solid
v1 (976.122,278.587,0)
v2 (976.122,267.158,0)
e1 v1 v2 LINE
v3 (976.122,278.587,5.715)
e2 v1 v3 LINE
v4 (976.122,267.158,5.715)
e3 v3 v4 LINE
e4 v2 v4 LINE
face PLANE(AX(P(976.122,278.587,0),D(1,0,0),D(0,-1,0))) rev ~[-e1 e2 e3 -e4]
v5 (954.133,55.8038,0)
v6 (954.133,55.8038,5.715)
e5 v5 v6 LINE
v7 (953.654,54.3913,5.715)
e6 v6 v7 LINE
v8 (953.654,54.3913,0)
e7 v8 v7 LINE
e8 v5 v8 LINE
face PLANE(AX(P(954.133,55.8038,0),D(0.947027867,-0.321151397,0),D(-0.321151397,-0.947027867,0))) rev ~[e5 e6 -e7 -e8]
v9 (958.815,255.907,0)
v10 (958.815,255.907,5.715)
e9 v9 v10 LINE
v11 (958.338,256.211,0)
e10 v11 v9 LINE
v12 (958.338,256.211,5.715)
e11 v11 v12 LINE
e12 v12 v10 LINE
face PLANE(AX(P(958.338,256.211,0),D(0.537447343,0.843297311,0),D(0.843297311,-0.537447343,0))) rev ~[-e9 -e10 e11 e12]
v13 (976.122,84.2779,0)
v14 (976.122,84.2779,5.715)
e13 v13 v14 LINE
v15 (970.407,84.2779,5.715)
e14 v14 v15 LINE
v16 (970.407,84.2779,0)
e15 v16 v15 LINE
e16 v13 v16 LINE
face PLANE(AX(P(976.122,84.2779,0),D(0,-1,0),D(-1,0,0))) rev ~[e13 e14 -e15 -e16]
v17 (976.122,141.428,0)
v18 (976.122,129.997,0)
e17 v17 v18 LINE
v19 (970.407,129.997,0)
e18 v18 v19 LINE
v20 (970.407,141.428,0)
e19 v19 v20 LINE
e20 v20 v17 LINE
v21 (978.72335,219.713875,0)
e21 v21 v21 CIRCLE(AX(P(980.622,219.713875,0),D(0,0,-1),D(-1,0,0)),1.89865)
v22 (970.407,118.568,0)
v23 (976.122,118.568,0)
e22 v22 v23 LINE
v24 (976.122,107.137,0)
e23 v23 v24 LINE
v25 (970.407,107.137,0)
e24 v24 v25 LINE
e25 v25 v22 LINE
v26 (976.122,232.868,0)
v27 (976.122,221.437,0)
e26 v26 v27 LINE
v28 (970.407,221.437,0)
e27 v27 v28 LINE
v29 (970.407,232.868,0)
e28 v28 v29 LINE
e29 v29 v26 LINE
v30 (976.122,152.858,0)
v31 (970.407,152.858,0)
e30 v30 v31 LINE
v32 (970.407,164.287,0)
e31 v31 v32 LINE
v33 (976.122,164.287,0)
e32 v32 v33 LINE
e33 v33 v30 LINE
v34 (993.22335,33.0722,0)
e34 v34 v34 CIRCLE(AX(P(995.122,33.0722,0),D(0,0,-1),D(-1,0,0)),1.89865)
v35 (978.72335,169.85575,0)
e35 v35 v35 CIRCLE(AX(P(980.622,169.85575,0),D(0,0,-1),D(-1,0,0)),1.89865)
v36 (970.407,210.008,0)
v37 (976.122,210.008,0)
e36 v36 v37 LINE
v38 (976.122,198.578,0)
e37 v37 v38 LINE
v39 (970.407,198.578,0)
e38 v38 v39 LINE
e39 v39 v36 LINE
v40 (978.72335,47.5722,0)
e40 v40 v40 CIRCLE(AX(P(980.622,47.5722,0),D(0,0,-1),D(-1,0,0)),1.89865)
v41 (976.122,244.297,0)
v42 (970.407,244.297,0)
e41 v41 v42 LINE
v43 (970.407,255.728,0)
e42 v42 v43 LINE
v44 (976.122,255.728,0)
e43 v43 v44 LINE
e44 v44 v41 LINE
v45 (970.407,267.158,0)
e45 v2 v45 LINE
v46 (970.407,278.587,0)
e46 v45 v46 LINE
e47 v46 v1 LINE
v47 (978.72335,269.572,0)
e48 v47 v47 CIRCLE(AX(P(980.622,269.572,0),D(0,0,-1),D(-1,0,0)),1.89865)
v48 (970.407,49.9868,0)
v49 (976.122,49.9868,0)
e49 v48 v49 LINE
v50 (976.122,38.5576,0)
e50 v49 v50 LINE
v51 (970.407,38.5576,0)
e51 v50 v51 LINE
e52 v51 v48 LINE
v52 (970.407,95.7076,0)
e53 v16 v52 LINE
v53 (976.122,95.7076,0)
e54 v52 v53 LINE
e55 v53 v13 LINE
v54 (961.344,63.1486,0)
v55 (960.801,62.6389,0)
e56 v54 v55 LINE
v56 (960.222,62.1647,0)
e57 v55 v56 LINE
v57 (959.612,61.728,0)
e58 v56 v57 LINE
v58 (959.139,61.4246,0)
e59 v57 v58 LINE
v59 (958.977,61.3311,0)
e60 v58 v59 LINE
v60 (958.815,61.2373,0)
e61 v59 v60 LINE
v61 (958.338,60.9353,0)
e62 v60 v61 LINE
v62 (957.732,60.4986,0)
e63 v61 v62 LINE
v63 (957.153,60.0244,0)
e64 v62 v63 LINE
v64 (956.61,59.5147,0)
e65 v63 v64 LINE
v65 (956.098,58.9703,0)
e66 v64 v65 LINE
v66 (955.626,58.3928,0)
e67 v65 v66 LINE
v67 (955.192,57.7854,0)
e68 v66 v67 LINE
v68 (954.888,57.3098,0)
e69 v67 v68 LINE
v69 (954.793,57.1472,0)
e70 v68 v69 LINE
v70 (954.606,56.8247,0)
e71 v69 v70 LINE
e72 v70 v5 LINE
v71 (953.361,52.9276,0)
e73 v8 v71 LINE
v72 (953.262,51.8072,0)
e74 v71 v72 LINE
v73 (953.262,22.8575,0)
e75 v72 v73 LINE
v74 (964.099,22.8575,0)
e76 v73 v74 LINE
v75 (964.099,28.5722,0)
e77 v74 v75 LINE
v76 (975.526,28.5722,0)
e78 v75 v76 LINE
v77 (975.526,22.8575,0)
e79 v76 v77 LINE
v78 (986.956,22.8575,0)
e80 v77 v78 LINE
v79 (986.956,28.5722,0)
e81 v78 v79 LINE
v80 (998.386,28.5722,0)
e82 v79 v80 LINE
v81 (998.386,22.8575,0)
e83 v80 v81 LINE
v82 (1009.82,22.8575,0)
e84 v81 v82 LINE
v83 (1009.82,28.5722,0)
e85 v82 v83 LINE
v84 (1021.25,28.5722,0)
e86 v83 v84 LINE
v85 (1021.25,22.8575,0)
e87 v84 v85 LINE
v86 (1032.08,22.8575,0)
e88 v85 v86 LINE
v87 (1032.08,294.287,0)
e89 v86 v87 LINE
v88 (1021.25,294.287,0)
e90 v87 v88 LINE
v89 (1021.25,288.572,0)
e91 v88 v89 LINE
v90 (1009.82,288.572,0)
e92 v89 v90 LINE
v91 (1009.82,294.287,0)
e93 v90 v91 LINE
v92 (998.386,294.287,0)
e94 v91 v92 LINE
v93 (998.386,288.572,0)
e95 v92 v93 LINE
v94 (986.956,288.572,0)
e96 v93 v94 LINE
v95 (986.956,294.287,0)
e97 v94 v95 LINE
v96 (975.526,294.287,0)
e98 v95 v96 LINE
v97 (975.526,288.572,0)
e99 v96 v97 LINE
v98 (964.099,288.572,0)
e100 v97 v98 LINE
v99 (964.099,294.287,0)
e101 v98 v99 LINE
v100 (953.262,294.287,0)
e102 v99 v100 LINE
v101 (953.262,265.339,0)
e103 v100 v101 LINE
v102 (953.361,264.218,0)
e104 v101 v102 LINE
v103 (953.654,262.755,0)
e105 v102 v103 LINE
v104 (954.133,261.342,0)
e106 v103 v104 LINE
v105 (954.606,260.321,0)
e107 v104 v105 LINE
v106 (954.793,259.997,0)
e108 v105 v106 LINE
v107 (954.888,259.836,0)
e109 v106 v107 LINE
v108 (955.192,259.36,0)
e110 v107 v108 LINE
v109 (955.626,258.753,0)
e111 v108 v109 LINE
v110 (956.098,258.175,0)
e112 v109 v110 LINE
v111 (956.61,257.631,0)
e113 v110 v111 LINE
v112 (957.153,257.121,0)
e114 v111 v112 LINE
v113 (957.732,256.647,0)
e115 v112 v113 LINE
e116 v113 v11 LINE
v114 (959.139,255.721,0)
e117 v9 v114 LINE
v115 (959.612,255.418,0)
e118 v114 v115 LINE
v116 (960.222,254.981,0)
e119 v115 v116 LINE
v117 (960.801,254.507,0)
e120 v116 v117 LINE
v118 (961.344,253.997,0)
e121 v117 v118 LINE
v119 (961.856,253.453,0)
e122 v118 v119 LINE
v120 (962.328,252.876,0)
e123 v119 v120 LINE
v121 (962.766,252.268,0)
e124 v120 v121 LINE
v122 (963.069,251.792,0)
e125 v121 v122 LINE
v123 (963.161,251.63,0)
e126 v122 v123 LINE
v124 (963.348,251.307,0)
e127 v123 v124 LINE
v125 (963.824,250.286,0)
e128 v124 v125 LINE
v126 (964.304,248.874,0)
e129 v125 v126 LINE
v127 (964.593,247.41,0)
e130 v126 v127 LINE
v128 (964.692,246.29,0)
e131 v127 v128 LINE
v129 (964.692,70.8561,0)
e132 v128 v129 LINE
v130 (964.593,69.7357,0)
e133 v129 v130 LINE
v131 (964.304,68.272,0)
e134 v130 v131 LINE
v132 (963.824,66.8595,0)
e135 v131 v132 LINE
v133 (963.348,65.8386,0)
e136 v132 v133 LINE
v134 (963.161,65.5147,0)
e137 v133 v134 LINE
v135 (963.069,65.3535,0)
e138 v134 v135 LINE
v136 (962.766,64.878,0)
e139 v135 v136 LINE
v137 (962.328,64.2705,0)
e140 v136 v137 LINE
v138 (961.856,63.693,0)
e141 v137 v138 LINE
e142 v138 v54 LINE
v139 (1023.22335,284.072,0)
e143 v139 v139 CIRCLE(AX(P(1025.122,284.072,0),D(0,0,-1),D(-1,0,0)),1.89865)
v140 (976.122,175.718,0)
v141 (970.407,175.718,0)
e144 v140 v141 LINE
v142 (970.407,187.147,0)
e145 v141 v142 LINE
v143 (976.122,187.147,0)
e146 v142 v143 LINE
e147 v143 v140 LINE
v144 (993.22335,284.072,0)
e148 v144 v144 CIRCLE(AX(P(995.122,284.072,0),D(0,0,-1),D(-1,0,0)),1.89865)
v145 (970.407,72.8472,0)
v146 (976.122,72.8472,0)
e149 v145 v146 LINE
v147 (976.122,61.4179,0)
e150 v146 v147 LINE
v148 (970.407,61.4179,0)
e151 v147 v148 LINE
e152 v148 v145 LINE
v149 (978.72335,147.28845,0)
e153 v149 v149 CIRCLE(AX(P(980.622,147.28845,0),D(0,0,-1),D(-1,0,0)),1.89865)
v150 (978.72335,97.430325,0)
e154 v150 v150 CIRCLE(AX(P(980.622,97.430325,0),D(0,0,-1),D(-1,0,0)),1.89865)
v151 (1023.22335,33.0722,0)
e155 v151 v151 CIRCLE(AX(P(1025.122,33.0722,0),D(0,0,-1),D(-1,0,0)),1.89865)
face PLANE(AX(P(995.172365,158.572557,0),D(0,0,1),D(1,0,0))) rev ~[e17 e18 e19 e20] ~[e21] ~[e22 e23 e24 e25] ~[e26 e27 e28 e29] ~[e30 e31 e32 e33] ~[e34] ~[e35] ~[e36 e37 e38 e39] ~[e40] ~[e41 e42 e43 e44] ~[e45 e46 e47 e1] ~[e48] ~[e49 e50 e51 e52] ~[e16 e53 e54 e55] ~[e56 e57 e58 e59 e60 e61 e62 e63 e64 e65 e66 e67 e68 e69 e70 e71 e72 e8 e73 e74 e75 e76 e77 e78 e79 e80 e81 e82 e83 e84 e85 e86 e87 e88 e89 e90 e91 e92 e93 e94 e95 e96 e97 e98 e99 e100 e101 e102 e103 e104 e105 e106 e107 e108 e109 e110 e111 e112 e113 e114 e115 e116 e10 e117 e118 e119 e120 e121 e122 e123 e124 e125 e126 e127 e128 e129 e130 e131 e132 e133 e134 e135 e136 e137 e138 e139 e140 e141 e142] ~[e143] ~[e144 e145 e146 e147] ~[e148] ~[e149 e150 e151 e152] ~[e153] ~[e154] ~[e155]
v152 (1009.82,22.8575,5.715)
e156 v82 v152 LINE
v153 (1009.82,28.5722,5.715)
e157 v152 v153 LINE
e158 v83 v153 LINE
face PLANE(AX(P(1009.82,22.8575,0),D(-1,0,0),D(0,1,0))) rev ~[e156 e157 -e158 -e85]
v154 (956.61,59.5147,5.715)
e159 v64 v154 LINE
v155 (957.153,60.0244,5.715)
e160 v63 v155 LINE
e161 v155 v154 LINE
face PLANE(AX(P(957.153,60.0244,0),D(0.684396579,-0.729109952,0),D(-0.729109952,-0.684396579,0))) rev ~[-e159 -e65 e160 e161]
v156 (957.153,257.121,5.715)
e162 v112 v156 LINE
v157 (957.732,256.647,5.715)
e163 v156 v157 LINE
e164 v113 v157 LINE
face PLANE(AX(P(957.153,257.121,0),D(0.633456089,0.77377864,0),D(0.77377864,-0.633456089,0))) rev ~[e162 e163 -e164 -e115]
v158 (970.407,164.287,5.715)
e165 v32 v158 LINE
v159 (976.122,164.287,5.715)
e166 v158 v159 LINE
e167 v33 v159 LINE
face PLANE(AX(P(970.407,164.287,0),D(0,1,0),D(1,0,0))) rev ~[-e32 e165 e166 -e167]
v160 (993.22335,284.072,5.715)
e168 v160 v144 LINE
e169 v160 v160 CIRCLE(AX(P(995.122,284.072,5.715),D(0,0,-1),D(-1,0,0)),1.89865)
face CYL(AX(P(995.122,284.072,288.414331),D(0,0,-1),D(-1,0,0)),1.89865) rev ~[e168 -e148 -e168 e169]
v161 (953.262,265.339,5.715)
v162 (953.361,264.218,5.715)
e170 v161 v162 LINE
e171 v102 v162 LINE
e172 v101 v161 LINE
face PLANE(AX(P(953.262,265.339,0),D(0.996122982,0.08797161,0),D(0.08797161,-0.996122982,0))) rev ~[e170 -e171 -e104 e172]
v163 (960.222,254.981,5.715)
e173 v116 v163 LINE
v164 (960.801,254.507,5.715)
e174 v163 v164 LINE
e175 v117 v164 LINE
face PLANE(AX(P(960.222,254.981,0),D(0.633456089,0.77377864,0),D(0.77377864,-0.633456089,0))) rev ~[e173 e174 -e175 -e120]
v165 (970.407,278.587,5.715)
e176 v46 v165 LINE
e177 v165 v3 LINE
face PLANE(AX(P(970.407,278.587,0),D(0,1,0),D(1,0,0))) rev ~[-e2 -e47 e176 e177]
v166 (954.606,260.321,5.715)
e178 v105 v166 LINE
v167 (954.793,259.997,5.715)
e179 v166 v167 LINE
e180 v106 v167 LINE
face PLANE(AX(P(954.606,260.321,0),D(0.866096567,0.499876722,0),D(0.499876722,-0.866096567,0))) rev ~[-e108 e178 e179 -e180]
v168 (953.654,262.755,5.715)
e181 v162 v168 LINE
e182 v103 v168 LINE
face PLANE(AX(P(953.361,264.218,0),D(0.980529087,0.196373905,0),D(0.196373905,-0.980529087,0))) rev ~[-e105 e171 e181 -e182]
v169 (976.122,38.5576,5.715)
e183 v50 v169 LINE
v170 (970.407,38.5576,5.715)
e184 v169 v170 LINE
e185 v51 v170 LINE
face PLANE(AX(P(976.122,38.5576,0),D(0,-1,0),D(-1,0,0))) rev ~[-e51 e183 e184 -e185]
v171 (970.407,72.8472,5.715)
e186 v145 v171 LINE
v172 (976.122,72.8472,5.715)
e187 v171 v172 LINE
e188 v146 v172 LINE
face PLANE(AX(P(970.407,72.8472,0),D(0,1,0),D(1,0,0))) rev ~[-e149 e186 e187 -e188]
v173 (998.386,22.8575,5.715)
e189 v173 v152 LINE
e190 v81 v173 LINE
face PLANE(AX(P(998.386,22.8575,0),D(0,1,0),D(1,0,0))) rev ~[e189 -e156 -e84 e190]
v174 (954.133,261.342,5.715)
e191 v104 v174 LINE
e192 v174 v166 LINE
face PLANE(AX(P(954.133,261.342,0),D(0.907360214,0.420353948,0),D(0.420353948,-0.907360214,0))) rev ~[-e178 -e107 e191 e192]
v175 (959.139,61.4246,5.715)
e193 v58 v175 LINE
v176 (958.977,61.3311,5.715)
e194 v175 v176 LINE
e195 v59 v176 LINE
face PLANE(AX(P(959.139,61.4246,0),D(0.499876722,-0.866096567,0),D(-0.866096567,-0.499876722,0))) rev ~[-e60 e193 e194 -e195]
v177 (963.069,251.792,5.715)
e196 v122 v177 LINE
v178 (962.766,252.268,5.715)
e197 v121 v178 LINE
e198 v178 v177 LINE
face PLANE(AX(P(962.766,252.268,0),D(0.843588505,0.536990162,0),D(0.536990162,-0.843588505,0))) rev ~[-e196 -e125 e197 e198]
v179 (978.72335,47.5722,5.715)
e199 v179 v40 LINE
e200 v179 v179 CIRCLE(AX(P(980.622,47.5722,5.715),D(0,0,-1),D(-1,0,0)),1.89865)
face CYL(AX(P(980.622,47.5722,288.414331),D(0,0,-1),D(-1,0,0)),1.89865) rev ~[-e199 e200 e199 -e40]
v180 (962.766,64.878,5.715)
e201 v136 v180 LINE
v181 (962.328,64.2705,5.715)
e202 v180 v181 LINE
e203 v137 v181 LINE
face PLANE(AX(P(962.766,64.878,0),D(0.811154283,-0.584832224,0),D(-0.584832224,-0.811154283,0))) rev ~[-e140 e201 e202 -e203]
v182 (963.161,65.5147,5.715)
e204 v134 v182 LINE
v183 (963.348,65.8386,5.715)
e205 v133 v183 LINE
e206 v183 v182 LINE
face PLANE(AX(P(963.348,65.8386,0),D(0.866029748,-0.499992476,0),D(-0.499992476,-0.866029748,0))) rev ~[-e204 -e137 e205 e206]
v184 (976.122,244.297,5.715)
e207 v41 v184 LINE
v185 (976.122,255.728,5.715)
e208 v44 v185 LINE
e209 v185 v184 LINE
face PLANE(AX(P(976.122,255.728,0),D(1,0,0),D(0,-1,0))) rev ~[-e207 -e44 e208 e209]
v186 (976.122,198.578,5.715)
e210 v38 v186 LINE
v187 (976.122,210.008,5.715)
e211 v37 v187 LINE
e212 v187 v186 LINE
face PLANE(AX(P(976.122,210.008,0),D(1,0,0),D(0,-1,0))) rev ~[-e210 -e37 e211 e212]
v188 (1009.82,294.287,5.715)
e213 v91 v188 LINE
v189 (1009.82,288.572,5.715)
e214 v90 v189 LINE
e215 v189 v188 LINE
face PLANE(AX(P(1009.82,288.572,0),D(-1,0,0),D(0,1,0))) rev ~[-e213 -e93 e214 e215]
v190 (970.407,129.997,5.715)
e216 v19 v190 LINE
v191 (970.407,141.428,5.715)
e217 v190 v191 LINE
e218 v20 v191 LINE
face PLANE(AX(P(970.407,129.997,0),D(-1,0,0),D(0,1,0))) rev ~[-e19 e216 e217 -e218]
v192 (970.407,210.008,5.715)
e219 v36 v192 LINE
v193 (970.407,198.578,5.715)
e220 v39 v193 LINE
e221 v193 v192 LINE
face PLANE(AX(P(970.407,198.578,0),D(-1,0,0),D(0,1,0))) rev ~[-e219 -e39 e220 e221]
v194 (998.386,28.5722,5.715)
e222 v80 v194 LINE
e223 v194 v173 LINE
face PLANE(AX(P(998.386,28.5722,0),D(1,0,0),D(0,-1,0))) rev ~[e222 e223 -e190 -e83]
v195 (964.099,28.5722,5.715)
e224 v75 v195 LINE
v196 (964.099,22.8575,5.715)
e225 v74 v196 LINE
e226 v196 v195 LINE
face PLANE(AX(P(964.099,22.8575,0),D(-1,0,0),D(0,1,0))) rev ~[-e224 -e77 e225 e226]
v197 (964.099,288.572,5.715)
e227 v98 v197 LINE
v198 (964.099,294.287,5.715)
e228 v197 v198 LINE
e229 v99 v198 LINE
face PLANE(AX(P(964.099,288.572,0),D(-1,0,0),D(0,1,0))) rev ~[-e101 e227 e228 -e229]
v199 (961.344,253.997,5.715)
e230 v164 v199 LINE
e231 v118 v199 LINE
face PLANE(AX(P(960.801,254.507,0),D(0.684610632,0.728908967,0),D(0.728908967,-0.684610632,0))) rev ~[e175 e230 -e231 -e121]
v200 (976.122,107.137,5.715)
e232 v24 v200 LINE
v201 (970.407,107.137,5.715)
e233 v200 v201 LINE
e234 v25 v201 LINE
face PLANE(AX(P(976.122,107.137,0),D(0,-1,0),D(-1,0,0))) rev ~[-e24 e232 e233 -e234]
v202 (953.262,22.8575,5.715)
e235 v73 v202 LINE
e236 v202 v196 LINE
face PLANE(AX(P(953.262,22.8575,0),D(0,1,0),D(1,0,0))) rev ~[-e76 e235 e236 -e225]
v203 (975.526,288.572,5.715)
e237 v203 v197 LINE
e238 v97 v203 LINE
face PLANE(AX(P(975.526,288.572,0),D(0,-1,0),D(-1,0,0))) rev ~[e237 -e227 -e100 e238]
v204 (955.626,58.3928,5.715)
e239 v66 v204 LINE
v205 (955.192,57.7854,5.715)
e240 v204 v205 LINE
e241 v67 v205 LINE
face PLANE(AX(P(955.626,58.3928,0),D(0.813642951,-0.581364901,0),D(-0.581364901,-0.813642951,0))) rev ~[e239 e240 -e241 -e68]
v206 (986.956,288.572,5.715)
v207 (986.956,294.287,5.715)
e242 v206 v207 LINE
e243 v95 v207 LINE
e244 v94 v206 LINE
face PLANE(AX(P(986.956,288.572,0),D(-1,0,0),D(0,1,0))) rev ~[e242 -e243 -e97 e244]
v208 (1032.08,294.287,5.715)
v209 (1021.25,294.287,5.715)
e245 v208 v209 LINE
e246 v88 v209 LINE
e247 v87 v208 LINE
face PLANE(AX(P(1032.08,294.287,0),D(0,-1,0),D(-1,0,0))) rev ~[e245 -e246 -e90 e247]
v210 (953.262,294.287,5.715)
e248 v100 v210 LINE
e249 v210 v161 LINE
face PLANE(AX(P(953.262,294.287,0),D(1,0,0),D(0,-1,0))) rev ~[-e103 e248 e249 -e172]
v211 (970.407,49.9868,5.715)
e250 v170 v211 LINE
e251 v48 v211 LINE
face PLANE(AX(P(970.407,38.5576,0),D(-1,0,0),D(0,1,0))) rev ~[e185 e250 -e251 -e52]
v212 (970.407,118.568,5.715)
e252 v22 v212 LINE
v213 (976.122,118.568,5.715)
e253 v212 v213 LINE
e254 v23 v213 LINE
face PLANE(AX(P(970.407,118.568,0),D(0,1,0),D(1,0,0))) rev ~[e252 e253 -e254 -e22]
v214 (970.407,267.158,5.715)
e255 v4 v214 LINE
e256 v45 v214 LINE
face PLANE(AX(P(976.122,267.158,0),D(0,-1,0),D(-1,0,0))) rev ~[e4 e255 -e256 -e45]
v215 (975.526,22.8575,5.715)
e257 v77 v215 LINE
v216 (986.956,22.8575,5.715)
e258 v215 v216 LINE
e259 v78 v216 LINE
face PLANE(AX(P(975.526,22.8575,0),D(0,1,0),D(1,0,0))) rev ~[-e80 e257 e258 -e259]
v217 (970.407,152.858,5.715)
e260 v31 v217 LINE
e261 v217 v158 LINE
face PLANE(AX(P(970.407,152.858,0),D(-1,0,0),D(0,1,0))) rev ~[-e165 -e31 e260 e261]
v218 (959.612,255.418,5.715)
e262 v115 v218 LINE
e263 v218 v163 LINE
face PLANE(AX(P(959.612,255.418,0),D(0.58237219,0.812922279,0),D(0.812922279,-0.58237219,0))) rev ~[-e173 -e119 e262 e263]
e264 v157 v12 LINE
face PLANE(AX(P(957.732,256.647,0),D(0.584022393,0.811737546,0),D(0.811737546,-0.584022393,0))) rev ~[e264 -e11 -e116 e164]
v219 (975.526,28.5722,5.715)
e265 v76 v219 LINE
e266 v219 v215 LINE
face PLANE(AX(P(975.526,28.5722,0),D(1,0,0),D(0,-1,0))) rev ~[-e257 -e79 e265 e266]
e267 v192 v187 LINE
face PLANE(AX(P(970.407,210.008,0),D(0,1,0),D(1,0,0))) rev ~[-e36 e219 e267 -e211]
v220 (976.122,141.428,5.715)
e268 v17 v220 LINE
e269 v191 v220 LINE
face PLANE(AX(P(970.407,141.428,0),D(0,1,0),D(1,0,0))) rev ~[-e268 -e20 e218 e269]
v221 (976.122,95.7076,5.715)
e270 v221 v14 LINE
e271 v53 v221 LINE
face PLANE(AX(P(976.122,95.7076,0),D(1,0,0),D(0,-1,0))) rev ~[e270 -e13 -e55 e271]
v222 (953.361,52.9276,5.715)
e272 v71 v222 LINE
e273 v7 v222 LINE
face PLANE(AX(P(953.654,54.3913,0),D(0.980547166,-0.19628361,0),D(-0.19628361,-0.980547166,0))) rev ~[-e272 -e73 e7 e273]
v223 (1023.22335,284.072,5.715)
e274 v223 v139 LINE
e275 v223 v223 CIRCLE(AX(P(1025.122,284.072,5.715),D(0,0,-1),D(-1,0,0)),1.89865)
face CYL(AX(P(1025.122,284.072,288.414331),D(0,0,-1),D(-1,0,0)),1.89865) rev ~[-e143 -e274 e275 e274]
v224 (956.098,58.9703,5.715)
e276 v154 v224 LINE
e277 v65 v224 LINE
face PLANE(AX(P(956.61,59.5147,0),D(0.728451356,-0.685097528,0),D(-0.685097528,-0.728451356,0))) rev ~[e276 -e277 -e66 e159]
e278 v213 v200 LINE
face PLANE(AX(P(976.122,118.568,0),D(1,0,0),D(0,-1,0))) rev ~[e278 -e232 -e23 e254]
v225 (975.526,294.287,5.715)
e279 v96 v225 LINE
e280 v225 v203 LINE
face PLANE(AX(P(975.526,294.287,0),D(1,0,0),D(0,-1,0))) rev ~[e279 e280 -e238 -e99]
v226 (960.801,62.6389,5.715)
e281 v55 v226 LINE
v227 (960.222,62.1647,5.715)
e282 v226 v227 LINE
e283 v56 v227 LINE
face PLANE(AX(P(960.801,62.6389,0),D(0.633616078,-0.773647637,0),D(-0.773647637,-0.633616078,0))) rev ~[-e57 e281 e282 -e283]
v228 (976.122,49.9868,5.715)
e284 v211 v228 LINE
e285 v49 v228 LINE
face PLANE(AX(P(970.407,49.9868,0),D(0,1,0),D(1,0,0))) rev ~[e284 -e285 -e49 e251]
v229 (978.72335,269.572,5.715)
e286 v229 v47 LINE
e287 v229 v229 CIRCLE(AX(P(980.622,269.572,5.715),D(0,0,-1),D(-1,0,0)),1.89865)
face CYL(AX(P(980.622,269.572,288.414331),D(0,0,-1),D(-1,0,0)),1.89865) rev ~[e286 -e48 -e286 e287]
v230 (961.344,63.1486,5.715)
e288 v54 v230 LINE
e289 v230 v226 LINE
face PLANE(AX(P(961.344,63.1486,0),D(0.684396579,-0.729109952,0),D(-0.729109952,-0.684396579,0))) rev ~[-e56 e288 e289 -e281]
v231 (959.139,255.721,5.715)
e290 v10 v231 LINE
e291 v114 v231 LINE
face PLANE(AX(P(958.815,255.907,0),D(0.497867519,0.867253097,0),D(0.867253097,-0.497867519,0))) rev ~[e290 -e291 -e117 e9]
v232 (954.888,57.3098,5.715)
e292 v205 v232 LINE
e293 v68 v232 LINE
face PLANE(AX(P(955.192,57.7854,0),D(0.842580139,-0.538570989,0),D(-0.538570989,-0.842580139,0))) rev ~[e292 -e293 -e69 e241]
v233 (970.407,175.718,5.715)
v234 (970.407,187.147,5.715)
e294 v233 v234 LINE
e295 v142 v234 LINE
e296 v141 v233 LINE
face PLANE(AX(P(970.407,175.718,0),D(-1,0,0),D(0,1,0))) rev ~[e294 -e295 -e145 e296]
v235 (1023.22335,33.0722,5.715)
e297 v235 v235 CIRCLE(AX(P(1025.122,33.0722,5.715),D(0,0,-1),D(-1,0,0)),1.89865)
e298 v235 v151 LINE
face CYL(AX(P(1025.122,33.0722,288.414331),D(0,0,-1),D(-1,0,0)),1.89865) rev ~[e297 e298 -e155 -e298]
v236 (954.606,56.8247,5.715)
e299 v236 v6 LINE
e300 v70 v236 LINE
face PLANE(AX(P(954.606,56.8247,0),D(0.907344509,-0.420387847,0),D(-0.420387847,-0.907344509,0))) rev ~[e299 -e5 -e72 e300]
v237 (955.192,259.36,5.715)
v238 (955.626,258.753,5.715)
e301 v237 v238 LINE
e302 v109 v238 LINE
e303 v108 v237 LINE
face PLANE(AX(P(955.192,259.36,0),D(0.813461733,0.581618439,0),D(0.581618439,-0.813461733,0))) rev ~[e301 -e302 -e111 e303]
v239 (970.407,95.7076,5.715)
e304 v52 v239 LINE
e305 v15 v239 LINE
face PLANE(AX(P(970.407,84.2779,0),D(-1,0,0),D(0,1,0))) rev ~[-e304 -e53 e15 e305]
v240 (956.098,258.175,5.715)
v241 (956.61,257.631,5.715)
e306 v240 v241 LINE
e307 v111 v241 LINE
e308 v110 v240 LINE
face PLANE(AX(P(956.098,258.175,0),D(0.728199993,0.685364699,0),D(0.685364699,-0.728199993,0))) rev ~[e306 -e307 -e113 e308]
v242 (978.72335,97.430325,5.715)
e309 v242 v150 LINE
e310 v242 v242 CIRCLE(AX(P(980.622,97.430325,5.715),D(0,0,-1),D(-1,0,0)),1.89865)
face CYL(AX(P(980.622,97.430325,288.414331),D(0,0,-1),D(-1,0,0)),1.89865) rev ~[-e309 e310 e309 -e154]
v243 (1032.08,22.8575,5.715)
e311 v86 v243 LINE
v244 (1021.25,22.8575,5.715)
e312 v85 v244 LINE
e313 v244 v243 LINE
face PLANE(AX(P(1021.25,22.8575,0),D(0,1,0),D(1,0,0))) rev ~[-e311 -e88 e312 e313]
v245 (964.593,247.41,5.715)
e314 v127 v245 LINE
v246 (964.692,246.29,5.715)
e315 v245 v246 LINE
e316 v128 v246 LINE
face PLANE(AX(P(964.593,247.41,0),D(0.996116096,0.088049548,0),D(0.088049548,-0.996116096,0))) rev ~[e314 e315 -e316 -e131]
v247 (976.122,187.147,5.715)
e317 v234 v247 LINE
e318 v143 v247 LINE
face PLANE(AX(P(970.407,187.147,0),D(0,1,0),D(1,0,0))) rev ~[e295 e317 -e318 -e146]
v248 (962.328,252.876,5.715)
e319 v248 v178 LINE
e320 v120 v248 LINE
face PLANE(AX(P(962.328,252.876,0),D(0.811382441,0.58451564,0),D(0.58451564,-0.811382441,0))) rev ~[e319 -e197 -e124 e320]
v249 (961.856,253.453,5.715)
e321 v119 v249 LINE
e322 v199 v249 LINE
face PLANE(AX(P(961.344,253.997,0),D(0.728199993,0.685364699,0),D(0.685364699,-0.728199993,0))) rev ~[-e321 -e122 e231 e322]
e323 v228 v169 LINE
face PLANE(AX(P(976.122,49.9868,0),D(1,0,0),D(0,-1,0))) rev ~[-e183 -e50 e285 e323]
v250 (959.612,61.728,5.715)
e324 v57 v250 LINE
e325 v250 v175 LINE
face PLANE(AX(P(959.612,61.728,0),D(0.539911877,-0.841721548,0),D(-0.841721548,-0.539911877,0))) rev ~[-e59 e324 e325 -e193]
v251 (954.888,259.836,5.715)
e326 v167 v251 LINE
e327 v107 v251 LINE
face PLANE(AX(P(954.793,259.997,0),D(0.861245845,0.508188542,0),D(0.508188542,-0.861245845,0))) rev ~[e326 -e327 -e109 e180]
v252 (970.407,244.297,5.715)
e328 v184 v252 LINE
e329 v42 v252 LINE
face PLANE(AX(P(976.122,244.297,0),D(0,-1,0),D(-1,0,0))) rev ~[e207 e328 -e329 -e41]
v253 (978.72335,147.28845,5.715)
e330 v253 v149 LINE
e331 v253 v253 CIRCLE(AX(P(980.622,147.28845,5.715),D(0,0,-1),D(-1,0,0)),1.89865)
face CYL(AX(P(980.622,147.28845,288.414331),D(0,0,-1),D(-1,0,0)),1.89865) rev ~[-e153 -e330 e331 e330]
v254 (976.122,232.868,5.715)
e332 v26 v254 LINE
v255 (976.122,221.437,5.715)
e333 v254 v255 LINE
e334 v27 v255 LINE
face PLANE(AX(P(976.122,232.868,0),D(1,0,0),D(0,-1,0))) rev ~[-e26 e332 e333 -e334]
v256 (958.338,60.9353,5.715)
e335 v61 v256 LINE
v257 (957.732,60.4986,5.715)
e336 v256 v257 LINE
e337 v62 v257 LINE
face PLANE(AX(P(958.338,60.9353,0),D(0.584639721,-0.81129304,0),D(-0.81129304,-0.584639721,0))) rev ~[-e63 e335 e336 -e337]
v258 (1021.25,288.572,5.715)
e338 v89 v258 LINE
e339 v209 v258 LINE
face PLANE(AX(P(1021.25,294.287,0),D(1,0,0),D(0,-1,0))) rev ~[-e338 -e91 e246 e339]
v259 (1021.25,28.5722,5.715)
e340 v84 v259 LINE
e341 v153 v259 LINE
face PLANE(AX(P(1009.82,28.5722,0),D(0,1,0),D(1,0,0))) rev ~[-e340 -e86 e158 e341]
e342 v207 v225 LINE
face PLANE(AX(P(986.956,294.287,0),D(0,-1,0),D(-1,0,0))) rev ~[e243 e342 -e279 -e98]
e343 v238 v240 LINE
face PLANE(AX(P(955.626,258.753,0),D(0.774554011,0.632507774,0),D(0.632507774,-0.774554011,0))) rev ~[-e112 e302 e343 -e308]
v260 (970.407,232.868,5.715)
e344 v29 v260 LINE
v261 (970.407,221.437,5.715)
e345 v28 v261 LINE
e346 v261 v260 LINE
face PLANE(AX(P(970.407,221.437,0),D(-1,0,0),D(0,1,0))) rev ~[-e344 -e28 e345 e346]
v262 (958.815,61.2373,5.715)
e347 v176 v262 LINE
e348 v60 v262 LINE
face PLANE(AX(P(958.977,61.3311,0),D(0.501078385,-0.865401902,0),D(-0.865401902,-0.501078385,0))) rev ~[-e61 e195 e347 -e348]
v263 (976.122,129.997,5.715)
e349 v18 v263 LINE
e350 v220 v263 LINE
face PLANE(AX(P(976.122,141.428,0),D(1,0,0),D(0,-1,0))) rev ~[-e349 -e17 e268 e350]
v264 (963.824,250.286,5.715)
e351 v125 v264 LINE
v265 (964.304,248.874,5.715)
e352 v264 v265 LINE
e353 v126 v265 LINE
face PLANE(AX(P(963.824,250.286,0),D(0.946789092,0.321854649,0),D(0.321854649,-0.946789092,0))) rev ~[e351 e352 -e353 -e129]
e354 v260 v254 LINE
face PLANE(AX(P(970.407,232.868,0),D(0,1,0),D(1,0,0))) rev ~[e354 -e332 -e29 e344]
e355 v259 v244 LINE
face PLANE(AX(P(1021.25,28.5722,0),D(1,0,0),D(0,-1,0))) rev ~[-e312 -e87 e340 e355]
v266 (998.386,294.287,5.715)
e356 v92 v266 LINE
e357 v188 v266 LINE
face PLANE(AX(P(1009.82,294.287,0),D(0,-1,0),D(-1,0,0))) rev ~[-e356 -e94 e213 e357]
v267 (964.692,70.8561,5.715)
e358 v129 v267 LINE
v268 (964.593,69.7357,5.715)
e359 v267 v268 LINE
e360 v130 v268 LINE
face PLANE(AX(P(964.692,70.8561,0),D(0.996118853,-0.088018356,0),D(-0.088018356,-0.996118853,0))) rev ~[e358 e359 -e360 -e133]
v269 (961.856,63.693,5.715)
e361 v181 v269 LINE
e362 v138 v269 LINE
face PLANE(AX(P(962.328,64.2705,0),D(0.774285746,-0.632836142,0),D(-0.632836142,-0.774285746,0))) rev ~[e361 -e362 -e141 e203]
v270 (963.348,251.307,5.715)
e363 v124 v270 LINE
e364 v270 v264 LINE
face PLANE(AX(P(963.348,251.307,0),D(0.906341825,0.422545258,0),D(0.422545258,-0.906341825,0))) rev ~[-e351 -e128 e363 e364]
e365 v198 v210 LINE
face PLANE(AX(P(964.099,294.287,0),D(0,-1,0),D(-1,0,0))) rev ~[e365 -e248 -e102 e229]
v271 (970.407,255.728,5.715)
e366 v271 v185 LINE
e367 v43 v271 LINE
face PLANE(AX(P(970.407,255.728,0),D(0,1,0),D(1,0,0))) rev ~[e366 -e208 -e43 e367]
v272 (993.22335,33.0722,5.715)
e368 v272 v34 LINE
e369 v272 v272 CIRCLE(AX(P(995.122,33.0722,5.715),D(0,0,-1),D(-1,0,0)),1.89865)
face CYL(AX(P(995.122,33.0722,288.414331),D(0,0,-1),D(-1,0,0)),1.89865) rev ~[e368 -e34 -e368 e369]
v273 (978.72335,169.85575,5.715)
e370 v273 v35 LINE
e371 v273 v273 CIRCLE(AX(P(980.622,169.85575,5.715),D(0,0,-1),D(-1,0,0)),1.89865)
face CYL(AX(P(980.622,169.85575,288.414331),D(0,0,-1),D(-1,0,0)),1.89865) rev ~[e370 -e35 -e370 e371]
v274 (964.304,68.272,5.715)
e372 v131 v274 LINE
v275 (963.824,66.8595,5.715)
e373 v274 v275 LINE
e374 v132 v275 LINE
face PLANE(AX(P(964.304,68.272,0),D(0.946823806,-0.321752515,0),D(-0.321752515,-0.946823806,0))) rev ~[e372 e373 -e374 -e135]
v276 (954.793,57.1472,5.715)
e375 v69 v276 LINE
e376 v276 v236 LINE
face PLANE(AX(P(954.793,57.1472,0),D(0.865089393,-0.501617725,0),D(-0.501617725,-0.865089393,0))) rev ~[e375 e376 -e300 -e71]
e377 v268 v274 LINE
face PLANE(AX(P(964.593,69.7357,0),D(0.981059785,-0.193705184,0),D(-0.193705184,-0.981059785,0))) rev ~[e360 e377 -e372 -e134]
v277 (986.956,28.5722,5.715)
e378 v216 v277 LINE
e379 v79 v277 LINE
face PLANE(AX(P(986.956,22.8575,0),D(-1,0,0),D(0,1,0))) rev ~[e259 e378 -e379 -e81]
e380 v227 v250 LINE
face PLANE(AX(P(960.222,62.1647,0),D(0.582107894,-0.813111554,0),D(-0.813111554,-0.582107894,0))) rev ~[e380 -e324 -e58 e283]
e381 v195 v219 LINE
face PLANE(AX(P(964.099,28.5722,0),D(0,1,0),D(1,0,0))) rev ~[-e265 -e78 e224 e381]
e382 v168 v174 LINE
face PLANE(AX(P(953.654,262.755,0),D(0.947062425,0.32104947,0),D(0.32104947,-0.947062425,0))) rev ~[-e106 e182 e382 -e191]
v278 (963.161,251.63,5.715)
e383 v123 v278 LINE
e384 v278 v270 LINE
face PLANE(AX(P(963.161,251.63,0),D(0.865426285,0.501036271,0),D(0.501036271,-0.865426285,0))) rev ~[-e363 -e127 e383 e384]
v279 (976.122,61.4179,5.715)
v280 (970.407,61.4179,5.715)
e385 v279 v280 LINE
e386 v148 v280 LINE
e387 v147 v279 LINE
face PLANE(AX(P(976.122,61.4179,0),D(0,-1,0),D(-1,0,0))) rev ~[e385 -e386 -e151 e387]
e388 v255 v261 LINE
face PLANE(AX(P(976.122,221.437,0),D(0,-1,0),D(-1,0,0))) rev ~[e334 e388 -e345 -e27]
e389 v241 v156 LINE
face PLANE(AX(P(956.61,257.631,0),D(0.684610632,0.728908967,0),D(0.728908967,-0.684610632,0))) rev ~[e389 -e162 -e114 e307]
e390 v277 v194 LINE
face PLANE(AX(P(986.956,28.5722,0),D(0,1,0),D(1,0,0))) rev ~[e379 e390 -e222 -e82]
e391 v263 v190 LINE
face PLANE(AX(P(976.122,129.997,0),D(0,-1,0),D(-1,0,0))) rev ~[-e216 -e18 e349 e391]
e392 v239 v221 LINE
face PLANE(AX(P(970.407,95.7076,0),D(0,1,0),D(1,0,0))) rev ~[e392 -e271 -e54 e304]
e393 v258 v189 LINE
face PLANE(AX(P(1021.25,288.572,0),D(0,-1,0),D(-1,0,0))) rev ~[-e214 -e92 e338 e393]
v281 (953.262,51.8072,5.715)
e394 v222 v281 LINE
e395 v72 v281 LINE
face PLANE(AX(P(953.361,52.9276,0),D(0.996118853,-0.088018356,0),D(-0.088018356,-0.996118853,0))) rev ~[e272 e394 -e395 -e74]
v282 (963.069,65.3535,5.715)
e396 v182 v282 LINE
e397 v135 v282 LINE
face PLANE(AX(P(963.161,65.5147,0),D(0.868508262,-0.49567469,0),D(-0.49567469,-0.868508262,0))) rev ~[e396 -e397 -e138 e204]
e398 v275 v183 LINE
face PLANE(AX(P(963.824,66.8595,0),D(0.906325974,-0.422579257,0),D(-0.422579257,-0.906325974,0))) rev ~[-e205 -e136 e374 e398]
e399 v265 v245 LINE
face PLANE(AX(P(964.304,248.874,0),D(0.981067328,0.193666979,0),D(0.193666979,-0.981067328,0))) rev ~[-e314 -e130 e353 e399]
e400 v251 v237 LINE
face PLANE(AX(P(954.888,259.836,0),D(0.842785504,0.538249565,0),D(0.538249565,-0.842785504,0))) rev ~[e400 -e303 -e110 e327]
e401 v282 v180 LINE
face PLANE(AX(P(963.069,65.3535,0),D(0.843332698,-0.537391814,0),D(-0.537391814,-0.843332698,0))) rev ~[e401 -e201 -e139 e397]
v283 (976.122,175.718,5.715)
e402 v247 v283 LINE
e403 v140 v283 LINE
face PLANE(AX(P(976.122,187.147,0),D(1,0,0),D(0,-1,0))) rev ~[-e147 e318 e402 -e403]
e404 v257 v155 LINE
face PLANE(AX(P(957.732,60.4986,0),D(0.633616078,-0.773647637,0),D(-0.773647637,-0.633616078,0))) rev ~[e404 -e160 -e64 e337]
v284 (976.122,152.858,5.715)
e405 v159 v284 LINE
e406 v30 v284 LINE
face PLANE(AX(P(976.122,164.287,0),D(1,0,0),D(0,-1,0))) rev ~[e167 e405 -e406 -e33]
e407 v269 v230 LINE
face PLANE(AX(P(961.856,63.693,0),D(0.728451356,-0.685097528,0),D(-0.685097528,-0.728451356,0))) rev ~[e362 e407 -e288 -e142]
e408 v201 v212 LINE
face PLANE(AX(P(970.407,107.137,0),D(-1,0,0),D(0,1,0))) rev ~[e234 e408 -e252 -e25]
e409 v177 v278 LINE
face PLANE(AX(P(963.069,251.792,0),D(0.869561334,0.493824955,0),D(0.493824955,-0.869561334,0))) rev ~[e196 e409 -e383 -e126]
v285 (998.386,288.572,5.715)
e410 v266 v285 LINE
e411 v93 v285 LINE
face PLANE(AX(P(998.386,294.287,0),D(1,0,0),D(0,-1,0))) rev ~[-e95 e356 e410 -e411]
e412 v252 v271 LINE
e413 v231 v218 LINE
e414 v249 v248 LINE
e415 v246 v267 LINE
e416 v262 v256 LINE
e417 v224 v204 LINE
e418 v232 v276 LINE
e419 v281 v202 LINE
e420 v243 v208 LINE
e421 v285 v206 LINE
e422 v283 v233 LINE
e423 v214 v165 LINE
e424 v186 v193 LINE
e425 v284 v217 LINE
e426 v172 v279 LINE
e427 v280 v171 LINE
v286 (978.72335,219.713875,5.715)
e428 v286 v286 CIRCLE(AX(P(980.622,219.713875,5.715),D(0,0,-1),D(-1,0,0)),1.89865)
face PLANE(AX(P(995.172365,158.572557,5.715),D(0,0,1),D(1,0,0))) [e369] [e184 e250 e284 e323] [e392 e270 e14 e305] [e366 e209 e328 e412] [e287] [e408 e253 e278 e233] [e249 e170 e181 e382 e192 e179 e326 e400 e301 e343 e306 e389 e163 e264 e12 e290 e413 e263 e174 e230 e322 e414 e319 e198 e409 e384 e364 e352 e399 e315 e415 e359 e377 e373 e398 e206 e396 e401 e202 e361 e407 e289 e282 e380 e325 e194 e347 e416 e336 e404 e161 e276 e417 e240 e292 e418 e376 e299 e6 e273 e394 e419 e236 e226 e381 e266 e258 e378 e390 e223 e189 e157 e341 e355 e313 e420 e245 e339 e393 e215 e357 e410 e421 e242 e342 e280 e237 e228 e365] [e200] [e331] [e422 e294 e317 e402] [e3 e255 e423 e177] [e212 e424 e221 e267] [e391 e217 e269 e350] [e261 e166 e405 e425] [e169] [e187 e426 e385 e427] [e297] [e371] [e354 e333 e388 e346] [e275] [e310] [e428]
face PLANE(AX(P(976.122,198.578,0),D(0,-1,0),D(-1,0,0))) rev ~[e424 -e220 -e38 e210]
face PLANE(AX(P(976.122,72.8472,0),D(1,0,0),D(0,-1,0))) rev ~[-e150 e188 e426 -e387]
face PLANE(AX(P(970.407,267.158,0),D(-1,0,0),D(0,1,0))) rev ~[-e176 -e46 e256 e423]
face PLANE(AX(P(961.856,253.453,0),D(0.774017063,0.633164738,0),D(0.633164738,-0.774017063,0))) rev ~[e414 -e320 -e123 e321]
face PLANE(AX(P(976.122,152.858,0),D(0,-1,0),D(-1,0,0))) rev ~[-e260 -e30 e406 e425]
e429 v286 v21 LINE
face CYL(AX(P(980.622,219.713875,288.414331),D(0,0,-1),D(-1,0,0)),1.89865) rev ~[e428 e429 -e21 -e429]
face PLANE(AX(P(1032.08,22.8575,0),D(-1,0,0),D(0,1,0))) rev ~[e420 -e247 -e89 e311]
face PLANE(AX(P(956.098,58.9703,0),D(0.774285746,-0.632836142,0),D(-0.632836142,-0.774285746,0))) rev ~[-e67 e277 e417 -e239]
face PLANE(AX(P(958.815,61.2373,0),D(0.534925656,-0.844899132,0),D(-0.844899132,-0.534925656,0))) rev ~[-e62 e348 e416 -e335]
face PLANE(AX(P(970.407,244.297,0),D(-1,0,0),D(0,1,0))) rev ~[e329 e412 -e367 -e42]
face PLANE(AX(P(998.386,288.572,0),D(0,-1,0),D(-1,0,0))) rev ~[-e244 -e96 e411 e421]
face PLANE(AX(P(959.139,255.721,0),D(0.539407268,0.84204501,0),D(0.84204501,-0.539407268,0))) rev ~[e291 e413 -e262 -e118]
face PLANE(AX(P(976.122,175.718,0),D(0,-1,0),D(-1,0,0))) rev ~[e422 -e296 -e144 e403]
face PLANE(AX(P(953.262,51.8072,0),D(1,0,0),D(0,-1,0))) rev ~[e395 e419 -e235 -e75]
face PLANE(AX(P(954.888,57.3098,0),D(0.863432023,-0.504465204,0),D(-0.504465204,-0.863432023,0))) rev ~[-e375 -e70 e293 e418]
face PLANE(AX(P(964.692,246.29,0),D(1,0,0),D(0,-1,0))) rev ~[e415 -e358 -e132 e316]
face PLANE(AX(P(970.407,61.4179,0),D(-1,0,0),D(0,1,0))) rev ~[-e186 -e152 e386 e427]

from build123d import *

# Parameters (mm, degrees)
BOSS_EXTRUDE1_DEPTH   = 5.715
F_6_CLEARANCE_HOLE1_D = 3.7973


with BuildPart() as part:
    # Model → Boss-Extrude1 (new body)
    with BuildSketch(Plane.XY):
        Polygon((953.262, 22.8575), (964.099, 22.8575), (964.099, 28.5722), (975.526, 28.5722), (975.526, 22.8575), (986.956, 22.8575), (986.956, 28.5722), (998.386, 28.5722), (998.386, 22.8575), (1009.82, 22.8575), (1009.82, 28.5722), (1021.25, 28.5722), (1021.25, 22.8575), (1032.08, 22.8575), (1032.08, 28.5722), (1032.08, 288.572), (1032.08, 294.287), (1021.25, 294.287), (1021.25, 288.572), (1009.82, 288.572), (1009.82, 294.287), (998.386, 294.287), (998.386, 288.572), (986.956, 288.572), (986.956, 294.287), (975.526, 294.287), (975.526, 288.572), (964.099, 288.572), (964.099, 294.287), (953.262, 294.287), (953.262, 288.572), (953.262, 265.712), (953.262, 265.339), (953.361, 264.218), (953.654, 262.755), (954.133, 261.342), (954.606, 260.321), (954.793, 259.997), (954.888, 259.836), (955.192, 259.36), (955.626, 258.753), (956.098, 258.175), (956.61, 257.631), (957.153, 257.121), (957.732, 256.647), (958.338, 256.211), (958.815, 255.907), (958.977, 255.814), (959.139, 255.721), (959.612, 255.418), (960.222, 254.981), (960.801, 254.507), (961.344, 253.997), (961.856, 253.453), (962.328, 252.876), (962.766, 252.268), (963.069, 251.792), (963.161, 251.63), (963.348, 251.307), (963.824, 250.286), (964.304, 248.874), (964.593, 247.41), (964.692, 246.29), (964.692, 245.915), (964.692, 71.2294), (964.692, 70.8561), (964.593, 69.7357), (964.304, 68.272), (963.824, 66.8595), (963.348, 65.8386), (963.161, 65.5147), (963.069, 65.3535), (962.766, 64.878), (962.328, 64.2705), (961.856, 63.693), (961.344, 63.1486), (960.801, 62.6389), (960.222, 62.1647), (959.612, 61.728), (959.139, 61.4246), (958.977, 61.3311), (958.815, 61.2373), (958.338, 60.9353), (957.732, 60.4986), (957.153, 60.0244), (956.61, 59.5147), (956.098, 58.9703), (955.626, 58.3928), (955.192, 57.7854), (954.888, 57.3098), (954.793, 57.1472), (954.606, 56.8247), (954.133, 55.8038), (953.654, 54.3913), (953.361, 52.9276), (953.262, 51.8072), (953.262, 51.4325), (953.262, 28.5722), align=None)
        Polygon((970.407, 272.872), (970.407, 278.587), (976.122, 278.587), (976.122, 267.158), (970.407, 267.158), align=None, mode=Mode.SUBTRACT)
        Polygon((970.407, 250.012), (970.407, 255.728), (976.122, 255.728), (976.122, 244.297), (970.407, 244.297), align=None, mode=Mode.SUBTRACT)
        Polygon((970.407, 227.153), (970.407, 232.868), (976.122, 232.868), (976.122, 221.437), (970.407, 221.437), align=None, mode=Mode.SUBTRACT)
        Polygon((970.407, 204.293), (970.407, 210.008), (976.122, 210.008), (976.122, 198.578), (970.407, 198.578), align=None, mode=Mode.SUBTRACT)
        Polygon((970.407, 181.433), (970.407, 187.147), (976.122, 187.147), (976.122, 175.718), (970.407, 175.718), align=None, mode=Mode.SUBTRACT)
        Polygon((970.407, 158.572), (970.407, 164.287), (976.122, 164.287), (976.122, 152.858), (970.407, 152.858), align=None, mode=Mode.SUBTRACT)
        Polygon((970.407, 135.712), (970.407, 141.428), (976.122, 141.428), (976.122, 129.997), (970.407, 129.997), align=None, mode=Mode.SUBTRACT)
        Polygon((970.407, 112.853), (970.407, 118.568), (976.122, 118.568), (976.122, 107.137), (970.407, 107.137), align=None, mode=Mode.SUBTRACT)
        Polygon((970.407, 89.9929), (970.407, 95.7076), (976.122, 95.7076), (976.122, 84.2779), (970.407, 84.2779), align=None, mode=Mode.SUBTRACT)
        Polygon((970.407, 67.1326), (970.407, 72.8472), (976.122, 72.8472), (976.122, 61.4179), (970.407, 61.4179), align=None, mode=Mode.SUBTRACT)
        Polygon((970.407, 44.2722), (970.407, 49.9868), (976.122, 49.9868), (976.122, 38.5576), (970.407, 38.5576), align=None, mode=Mode.SUBTRACT)
    extrude(amount=BOSS_EXTRUDE1_DEPTH)

    # #6 Clearance Hole1 (through all)
    with Locations(Plane.XY.offset(5.715)):
        with Locations((1025.122, 284.072), (995.122, 284.072), (980.622, 269.572), (980.622, 219.713875), (980.622, 169.85575), (980.622, 147.28845), (980.622, 97.430325), (980.622, 47.5722), (995.122, 33.0722), (1025.122, 33.0722)):
            Hole(F_6_CLEARANCE_HOLE1_D / 2)


solid = part.part
